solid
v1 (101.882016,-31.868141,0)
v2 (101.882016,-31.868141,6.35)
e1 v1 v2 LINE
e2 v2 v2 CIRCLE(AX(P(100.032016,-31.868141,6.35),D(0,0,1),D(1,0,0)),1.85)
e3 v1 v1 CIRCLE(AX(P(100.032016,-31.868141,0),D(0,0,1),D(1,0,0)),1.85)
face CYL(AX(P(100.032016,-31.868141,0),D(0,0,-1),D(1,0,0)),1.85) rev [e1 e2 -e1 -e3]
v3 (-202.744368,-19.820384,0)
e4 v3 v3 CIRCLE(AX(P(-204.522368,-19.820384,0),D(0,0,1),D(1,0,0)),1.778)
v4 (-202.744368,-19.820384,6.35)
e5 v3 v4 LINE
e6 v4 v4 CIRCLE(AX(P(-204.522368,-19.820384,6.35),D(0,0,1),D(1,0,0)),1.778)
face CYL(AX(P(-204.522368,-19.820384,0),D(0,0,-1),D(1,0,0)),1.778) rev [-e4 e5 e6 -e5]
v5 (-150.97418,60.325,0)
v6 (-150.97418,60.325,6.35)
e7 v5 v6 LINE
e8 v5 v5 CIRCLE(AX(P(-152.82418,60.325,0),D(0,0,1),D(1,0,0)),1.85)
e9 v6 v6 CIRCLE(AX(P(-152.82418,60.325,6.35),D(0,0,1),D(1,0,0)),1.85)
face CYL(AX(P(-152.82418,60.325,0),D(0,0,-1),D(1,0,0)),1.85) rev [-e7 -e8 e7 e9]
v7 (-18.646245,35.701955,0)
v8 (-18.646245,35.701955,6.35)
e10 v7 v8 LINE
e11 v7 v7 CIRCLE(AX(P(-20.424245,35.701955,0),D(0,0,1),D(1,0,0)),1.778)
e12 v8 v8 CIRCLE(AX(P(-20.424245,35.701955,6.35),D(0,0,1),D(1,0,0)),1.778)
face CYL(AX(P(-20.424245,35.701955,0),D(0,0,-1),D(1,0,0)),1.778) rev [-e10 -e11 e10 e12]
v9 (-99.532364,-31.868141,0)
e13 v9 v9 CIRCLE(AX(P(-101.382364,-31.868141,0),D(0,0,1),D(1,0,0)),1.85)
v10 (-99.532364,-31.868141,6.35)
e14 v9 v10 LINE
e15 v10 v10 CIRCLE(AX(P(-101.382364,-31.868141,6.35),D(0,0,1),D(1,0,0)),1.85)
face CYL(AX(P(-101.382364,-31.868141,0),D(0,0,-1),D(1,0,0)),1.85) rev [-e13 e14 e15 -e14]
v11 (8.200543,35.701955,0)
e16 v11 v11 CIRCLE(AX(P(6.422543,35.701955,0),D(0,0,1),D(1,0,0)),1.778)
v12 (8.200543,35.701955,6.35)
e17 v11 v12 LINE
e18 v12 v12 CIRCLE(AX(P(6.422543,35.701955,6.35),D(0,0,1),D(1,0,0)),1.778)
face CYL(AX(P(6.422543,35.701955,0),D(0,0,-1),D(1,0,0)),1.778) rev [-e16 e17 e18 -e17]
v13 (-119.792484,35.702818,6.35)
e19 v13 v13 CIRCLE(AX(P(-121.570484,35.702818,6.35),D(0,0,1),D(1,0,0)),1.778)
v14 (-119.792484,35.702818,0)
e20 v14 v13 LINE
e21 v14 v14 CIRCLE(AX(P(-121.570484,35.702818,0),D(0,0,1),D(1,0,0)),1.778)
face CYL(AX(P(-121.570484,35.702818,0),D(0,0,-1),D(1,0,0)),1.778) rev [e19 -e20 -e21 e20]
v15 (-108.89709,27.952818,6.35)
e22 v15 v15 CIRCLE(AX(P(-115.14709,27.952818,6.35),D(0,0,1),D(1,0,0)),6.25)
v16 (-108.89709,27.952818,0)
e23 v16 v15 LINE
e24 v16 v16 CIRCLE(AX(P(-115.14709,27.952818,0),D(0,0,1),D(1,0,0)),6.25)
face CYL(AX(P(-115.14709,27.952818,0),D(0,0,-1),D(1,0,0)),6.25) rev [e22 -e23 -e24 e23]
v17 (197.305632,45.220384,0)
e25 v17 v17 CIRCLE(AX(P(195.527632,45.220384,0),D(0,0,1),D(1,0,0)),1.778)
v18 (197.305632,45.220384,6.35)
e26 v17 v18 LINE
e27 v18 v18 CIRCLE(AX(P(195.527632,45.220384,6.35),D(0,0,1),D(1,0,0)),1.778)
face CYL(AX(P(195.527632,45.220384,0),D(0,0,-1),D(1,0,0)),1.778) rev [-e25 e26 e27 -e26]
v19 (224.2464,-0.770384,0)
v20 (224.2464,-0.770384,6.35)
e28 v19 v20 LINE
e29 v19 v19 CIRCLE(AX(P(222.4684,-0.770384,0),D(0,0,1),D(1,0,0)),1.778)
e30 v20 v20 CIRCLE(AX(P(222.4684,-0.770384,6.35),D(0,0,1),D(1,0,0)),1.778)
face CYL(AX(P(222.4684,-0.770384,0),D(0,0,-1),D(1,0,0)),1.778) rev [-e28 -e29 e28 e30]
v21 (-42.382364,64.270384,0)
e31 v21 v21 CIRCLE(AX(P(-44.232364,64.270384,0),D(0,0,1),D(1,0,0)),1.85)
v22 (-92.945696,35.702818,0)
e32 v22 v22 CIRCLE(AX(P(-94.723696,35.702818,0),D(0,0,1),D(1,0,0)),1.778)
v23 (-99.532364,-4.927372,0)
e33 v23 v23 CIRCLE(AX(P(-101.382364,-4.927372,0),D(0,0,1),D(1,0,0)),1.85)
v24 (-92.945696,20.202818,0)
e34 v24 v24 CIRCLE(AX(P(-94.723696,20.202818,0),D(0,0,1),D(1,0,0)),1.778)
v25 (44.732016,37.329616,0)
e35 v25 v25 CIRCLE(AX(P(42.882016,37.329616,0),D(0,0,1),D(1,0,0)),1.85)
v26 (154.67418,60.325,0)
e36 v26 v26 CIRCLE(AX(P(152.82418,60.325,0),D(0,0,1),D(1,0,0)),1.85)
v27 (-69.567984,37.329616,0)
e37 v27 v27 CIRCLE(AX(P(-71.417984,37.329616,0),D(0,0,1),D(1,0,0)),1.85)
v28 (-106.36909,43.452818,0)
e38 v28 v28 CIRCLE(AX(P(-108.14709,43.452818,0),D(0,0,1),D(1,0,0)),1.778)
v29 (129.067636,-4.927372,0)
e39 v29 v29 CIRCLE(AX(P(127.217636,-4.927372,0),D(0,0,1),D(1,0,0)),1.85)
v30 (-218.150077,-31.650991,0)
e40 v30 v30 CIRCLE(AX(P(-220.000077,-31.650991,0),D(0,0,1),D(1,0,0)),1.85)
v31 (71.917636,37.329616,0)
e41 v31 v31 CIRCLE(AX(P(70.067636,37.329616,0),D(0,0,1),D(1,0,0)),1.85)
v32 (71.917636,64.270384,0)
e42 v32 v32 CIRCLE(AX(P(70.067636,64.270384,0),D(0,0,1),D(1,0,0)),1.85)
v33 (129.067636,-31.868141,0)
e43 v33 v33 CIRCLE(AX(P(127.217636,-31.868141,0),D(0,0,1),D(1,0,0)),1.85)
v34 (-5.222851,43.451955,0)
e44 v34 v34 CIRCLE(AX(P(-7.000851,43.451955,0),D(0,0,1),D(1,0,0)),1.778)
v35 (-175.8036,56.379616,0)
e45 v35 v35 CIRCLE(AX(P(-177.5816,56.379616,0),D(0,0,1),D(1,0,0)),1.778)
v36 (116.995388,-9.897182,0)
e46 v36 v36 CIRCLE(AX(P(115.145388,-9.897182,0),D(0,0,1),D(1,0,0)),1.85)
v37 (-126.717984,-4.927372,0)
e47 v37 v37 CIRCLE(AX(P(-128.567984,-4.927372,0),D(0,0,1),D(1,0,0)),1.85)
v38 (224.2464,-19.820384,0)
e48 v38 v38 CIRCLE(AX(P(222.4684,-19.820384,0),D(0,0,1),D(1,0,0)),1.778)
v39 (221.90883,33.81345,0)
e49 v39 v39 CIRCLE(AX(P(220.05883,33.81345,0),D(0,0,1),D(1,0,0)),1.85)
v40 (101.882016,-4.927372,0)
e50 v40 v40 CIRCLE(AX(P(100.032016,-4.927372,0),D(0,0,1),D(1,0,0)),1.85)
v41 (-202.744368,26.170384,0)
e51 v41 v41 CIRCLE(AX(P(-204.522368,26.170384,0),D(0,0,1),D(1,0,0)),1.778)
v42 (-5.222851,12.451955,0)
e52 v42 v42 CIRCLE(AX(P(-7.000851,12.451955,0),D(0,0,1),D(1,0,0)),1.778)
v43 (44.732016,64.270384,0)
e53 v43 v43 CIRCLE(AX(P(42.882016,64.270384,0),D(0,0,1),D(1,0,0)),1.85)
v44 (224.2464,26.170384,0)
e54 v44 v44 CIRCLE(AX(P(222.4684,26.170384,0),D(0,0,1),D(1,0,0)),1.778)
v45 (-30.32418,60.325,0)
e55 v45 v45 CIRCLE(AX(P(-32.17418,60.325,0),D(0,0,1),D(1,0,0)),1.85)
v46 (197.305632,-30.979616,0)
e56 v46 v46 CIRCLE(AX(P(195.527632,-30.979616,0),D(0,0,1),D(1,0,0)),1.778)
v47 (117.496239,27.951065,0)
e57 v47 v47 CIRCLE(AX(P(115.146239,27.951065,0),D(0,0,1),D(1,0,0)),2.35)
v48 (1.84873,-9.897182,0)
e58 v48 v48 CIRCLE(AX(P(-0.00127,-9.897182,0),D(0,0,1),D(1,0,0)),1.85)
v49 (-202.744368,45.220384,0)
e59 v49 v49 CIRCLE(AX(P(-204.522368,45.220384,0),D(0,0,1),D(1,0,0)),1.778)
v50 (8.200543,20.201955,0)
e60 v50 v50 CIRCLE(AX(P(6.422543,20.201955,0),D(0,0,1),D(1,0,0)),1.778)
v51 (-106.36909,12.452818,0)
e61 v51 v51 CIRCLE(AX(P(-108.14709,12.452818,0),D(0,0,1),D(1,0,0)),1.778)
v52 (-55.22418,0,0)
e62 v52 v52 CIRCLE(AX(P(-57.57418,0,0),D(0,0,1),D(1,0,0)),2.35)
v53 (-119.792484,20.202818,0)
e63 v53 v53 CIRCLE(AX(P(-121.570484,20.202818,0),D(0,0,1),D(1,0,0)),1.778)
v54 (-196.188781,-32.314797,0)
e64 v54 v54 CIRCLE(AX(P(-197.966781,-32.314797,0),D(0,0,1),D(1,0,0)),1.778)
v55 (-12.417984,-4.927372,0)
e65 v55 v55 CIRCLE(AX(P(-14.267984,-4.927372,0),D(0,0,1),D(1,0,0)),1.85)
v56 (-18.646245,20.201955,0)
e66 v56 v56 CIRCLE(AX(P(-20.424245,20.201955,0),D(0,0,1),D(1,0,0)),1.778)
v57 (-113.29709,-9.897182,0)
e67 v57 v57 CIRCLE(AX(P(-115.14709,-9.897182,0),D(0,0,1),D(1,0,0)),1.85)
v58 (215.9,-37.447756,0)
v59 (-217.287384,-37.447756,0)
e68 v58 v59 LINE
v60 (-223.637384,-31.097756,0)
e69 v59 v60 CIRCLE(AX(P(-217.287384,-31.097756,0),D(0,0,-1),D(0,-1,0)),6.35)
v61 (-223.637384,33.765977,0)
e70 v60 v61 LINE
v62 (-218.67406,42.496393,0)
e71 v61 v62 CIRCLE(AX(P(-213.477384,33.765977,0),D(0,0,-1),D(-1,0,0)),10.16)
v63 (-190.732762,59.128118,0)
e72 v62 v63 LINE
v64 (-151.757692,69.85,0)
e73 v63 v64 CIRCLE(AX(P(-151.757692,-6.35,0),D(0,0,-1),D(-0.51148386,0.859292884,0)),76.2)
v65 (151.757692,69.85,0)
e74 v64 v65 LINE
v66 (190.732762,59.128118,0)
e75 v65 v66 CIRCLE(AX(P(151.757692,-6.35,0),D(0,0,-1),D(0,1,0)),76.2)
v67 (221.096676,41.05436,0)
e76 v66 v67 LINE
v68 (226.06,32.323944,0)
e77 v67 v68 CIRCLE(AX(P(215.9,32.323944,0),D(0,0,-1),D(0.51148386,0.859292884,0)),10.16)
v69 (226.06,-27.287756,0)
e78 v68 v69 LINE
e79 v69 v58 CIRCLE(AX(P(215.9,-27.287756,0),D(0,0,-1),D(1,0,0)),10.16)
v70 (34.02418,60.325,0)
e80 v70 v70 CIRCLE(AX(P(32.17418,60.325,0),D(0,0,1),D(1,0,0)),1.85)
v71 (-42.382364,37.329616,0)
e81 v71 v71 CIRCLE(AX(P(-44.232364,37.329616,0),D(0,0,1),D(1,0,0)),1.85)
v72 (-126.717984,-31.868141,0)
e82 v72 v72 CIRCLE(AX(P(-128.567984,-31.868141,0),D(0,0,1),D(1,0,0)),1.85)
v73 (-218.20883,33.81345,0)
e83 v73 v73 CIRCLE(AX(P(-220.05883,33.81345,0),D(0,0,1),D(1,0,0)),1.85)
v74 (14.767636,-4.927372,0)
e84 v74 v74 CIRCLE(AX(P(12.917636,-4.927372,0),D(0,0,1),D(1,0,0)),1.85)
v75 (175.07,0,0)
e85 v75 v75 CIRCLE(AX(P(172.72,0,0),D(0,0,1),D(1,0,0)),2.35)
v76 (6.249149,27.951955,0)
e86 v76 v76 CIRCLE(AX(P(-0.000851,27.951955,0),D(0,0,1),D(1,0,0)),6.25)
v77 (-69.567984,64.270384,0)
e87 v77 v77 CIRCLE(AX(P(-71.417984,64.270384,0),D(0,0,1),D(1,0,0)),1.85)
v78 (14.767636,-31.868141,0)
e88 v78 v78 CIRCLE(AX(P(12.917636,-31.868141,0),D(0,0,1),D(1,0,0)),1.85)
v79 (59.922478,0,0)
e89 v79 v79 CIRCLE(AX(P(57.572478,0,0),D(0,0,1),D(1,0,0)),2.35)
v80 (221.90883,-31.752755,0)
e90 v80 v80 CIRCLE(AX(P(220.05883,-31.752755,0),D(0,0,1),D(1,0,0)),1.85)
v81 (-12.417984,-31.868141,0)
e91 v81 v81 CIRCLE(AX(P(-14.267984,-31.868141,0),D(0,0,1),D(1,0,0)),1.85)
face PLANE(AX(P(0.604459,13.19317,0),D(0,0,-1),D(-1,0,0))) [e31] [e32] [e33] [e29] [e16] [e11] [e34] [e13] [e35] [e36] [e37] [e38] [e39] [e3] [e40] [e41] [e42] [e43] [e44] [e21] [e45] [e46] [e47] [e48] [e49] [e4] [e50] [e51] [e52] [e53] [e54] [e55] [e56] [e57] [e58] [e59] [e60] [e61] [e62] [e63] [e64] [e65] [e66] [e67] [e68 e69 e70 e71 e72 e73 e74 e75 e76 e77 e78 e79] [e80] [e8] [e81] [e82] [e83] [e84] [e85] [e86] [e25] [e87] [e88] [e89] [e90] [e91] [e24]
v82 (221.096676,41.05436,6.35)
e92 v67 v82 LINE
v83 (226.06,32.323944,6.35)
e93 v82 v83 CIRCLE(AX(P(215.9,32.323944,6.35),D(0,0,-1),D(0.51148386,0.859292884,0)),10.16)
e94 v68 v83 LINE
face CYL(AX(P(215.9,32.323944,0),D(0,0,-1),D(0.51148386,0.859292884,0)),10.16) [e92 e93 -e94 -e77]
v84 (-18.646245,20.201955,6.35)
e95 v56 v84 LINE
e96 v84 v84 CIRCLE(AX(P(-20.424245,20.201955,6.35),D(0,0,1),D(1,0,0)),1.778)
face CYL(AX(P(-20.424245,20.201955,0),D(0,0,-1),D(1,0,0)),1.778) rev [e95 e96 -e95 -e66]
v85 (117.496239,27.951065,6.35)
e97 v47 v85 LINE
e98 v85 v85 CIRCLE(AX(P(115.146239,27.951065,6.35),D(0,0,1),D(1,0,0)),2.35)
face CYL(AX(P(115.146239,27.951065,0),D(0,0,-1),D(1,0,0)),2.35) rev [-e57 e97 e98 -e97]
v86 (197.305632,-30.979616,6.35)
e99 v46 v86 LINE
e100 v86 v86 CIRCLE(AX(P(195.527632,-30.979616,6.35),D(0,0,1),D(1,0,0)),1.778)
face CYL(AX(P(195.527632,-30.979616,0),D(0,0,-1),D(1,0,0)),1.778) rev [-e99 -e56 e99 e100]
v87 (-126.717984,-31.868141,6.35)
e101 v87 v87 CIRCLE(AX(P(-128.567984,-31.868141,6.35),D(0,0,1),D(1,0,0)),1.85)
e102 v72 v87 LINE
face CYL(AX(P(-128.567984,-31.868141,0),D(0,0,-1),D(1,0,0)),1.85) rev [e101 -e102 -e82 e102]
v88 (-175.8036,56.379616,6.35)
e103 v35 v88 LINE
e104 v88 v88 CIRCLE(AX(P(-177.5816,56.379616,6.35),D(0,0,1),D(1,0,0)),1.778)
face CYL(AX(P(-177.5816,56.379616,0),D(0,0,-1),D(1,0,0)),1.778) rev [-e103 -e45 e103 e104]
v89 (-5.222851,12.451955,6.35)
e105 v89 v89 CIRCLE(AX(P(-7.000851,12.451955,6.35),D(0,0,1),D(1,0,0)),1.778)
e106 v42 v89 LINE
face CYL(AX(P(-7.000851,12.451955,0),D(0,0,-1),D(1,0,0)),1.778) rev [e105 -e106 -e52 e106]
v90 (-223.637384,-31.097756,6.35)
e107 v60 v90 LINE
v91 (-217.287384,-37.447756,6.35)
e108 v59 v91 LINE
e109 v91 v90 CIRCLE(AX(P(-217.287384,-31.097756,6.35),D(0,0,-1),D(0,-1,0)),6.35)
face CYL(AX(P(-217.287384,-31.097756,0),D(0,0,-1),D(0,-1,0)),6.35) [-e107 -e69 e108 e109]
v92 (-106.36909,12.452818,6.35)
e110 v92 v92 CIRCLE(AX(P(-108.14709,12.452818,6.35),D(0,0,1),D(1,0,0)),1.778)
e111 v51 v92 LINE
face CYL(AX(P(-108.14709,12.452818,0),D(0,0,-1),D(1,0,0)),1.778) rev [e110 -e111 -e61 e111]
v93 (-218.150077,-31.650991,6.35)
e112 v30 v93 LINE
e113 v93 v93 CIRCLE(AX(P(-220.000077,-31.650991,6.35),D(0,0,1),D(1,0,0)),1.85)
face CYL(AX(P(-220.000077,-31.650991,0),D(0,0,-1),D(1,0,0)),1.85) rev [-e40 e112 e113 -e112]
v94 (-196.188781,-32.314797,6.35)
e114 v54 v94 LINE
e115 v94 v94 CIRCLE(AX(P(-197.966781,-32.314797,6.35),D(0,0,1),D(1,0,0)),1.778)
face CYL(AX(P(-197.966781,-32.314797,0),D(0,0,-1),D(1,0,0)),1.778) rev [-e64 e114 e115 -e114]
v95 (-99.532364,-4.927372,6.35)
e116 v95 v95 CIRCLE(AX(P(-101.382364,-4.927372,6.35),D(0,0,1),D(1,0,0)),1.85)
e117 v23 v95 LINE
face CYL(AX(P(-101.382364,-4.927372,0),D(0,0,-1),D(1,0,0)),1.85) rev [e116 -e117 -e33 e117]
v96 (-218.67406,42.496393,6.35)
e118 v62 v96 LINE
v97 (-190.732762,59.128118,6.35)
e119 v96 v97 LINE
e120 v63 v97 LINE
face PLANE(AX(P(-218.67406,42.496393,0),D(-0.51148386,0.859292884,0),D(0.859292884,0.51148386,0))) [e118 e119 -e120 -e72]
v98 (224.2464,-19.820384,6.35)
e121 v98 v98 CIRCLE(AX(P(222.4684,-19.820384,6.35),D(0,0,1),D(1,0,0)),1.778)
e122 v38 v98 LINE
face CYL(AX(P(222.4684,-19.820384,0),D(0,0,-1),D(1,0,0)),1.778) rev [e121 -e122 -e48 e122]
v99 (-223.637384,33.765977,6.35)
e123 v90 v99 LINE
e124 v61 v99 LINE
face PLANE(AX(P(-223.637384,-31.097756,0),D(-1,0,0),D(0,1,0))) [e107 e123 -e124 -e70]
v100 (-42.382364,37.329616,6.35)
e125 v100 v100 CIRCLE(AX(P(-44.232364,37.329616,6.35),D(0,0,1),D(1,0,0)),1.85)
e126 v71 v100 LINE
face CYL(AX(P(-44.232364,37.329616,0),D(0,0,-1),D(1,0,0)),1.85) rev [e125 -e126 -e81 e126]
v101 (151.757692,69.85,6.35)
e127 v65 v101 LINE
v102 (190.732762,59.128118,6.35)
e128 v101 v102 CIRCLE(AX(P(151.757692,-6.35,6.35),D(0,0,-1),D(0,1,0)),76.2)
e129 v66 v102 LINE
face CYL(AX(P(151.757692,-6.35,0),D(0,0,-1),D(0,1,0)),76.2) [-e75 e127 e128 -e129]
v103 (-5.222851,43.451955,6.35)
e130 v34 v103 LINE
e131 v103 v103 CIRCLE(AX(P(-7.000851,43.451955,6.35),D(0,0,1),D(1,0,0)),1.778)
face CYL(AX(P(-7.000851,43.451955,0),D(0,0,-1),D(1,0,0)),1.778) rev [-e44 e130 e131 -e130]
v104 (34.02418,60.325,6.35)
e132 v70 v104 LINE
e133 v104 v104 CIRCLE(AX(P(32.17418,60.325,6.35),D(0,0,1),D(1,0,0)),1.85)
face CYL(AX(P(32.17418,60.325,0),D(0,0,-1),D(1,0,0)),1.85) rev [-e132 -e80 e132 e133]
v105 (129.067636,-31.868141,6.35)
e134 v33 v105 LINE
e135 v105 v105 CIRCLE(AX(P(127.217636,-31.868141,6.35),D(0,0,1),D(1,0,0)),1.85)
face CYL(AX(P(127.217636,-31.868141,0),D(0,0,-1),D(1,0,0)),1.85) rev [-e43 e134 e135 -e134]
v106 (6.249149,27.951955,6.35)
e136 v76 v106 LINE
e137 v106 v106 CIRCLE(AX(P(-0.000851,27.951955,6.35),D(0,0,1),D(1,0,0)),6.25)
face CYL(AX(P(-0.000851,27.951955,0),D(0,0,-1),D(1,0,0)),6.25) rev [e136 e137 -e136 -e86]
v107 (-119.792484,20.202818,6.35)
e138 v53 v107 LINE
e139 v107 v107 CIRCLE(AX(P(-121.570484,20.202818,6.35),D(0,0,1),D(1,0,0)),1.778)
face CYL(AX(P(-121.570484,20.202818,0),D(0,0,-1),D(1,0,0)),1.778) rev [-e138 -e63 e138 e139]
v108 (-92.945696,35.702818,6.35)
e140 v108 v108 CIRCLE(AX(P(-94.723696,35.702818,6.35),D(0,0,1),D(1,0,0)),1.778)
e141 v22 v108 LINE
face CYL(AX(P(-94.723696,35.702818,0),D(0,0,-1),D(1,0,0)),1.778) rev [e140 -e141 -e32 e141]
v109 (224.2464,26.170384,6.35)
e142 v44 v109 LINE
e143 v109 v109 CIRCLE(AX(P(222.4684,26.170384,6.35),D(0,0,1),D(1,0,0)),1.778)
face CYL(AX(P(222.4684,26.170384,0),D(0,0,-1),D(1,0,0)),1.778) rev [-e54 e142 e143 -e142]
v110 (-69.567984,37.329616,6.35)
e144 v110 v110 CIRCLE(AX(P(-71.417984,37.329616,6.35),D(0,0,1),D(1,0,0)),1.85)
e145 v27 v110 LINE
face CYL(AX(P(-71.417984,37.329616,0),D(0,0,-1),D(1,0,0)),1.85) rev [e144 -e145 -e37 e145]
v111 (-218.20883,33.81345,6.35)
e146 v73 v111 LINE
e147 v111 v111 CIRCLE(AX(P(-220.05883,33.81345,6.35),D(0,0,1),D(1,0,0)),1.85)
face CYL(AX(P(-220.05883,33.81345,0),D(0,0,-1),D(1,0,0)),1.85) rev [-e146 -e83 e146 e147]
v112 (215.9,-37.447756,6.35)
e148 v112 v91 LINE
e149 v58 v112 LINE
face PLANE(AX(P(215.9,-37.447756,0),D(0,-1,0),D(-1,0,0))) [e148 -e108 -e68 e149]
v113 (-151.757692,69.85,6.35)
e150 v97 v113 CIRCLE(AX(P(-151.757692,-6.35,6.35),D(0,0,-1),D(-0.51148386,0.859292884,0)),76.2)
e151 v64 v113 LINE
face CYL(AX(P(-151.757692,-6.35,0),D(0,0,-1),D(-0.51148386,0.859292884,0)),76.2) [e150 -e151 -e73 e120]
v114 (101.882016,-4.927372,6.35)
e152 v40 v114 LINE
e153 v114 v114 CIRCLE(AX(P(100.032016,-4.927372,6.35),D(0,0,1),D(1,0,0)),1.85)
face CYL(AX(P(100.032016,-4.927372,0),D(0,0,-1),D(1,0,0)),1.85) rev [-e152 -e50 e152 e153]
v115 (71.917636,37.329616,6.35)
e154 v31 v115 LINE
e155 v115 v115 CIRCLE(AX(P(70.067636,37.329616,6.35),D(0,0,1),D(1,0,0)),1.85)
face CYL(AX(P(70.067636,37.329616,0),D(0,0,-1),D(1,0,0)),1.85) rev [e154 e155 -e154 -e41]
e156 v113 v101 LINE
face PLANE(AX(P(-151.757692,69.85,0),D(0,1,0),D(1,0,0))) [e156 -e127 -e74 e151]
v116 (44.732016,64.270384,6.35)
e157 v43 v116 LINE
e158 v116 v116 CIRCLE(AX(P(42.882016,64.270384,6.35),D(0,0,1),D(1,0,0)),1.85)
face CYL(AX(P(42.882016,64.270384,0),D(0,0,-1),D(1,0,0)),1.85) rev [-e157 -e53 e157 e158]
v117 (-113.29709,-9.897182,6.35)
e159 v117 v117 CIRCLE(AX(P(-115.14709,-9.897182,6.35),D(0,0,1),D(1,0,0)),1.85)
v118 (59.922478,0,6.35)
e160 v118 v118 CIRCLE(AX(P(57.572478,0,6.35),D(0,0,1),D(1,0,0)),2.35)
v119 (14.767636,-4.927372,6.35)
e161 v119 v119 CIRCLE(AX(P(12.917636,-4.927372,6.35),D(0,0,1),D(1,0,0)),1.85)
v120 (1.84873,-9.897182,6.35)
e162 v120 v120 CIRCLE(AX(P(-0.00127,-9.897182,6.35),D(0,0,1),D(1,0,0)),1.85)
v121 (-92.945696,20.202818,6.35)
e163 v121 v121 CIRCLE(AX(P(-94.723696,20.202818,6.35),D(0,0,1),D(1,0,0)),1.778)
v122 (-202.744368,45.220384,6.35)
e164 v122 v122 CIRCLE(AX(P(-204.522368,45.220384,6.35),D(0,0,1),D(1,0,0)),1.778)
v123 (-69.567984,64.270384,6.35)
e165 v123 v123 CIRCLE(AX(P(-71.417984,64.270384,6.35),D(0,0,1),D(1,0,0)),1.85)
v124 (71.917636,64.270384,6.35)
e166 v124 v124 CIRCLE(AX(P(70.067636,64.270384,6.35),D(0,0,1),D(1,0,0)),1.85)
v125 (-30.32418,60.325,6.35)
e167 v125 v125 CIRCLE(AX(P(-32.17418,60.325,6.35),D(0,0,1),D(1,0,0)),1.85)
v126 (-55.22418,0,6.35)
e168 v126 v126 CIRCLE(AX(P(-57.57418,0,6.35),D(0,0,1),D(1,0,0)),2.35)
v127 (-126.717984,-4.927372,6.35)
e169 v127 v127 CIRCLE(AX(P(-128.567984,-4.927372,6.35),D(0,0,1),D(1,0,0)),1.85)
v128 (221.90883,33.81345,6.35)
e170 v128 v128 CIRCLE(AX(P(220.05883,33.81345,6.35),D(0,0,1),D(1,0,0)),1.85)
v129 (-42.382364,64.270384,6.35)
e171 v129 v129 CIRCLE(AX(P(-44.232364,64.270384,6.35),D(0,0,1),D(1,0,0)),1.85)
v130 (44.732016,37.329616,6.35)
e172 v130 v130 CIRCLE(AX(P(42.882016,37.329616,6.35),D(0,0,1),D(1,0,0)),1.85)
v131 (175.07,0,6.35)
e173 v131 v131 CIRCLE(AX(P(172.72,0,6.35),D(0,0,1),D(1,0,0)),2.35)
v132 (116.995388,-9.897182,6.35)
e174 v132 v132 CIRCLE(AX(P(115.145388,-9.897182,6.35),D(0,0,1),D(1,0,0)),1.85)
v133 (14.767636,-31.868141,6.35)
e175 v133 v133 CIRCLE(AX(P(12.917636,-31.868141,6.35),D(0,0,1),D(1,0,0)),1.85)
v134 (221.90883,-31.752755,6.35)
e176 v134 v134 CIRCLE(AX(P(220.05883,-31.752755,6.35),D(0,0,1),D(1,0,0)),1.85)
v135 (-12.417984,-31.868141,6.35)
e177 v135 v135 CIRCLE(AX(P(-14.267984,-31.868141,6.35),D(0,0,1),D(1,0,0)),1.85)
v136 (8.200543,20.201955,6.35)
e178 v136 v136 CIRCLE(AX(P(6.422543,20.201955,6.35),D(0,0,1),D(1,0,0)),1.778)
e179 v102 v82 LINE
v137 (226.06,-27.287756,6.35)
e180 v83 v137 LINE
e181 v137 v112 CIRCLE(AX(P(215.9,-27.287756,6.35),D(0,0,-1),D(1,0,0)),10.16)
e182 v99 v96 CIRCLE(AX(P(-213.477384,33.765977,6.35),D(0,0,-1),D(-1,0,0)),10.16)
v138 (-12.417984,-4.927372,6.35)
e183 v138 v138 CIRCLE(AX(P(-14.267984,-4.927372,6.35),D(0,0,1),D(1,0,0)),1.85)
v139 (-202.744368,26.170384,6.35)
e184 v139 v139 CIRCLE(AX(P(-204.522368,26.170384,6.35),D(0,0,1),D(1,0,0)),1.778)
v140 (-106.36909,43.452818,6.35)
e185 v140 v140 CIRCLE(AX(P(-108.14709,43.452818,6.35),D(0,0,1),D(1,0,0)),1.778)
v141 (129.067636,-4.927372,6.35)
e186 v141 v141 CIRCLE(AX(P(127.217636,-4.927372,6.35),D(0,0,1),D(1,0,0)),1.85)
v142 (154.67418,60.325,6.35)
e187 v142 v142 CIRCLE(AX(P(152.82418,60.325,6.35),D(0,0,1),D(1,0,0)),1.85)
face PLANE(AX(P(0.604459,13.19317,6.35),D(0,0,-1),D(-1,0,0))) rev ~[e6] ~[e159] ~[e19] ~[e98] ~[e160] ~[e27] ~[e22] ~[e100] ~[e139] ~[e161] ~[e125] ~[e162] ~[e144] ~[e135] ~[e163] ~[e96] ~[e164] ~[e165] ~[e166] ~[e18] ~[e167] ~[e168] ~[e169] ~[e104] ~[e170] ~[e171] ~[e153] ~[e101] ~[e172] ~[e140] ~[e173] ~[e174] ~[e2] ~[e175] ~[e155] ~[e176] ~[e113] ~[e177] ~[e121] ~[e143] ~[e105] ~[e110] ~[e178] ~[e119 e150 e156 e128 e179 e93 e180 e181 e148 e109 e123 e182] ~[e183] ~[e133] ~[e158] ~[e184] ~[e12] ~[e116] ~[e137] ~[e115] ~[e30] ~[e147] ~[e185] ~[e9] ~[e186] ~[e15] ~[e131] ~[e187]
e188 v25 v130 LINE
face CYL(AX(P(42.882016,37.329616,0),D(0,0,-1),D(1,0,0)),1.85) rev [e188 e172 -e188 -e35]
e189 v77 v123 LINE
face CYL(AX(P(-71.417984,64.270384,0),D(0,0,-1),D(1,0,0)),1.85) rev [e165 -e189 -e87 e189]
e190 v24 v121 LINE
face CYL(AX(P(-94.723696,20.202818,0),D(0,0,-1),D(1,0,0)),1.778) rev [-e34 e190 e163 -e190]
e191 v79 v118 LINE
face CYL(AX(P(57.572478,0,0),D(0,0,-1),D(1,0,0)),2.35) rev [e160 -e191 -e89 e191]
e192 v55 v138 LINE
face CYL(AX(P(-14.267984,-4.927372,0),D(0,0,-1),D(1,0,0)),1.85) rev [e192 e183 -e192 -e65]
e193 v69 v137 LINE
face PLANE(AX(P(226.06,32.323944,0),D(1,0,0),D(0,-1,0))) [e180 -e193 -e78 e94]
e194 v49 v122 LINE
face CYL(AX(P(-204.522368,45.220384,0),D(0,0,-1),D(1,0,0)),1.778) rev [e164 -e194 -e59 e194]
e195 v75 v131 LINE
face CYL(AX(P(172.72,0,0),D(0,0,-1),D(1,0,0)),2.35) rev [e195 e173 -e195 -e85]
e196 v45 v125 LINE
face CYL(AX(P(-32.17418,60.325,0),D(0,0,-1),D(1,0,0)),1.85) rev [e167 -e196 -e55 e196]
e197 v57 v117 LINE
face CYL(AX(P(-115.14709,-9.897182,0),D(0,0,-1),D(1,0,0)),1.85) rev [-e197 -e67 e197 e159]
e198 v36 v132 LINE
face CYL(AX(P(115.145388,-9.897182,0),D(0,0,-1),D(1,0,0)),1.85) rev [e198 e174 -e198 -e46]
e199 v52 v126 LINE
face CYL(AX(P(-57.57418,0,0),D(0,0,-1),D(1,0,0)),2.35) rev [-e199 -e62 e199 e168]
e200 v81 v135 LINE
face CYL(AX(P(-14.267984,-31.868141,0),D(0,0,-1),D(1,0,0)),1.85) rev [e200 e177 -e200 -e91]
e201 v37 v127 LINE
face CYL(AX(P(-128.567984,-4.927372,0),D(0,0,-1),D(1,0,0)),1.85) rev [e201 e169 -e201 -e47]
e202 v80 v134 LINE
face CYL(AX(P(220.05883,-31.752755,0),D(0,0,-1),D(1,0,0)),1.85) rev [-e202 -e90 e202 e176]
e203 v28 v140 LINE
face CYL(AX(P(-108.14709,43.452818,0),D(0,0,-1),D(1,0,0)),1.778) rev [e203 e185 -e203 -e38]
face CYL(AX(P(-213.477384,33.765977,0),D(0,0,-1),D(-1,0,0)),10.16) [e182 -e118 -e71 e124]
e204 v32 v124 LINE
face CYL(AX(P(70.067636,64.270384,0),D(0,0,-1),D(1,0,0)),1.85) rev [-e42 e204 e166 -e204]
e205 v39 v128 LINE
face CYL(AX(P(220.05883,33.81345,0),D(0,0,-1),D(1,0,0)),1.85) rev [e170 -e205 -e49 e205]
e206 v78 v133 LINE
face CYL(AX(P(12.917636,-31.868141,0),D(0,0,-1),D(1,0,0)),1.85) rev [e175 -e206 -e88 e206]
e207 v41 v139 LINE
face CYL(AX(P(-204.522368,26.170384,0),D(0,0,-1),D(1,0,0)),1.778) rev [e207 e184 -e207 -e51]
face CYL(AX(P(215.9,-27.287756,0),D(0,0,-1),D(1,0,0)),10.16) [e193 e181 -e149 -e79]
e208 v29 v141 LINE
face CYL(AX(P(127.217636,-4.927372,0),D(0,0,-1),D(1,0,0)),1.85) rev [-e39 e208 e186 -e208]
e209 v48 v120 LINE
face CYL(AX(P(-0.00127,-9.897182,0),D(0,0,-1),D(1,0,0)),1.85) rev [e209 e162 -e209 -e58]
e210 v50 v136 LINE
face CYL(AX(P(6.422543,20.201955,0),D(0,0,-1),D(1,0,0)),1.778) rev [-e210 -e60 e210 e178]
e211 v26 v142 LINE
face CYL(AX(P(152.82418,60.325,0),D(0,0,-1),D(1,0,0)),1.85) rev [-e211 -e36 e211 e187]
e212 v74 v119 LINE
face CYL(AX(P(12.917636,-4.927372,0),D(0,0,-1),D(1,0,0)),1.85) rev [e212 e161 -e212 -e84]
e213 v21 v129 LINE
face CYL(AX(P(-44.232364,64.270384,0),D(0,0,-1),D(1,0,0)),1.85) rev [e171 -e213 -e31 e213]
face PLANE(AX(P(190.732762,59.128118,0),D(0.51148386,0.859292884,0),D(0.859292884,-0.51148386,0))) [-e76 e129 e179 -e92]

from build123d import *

# Parameters (mm, degrees)
SKETCH1_R           = 2.35
SKETCH1_R_2         = 6.25
SKETCH1_R_3         = 2.349999999
SKETCH1_R_4         = 1.778
SKETCH1_R_5         = 1.85000011
SKETCH1_R_6         = 1.85
BOSS_EXTRUDE3_DEPTH = 6.35


with BuildPart() as part:
    # Sketch1 → Boss-Extrude3 (new body)
    with BuildSketch(Plane.XY):
        with BuildLine():
            Line((226.06, 0), (226.06, -27.287756374))
            ThreePointArc((226.06, -27.287756374), (223.084204897, -34.471961271), (215.9, -37.447756374))
            Line((215.9, -37.447756374), (-215.9, -37.447756374))
            Line((-215.9, -37.447756374), (-217.287383527, -37.447756374))
            ThreePointArc((-217.287383527, -37.447756374), (-221.777511587, -35.587884434), (-223.637383527, -31.097756374))
            Line((-223.637383527, -31.097756374), (-223.637383527, 33.765977424))
            ThreePointArc((-223.637383527, 33.765977424), (-222.309818874, 38.787300541), (-218.674059542, 42.49639313))
            Line((-218.674059542, 42.49639313), (-190.732762109, 59.128117792))
            ThreePointArc((-190.732762109, 59.128117792), (-171.969166759, 67.120649159), (-151.757691995, 69.85))
            Line((-151.757691995, 69.85), (151.757691995, 69.85))
            ThreePointArc((151.757691995, 69.85), (171.969166759, 67.120649159), (190.732762109, 59.128117792))
            Line((190.732762109, 59.128117792), (221.096676015, 41.054359515))
            ThreePointArc((221.096676015, 41.054359515), (224.732435347, 37.345266926), (226.06, 32.323943809))
            Line((226.06, 32.323943809), (226.06, 0))
        make_face()
        with Locations((-57.57418, 0)):
            Circle(SKETCH1_R, mode=Mode.SUBTRACT)
        with Locations((57.5724782, 0)):
            Circle(SKETCH1_R, mode=Mode.SUBTRACT)
        with Locations((172.72, 0)):
            Circle(SKETCH1_R, mode=Mode.SUBTRACT)
        with Locations((-115.14709, 27.952818)):
            Circle(SKETCH1_R_2, mode=Mode.SUBTRACT)
        with Locations((-0.0008509, 27.951954786)):
            Circle(SKETCH1_R_2, mode=Mode.SUBTRACT)
        with Locations((115.1462391, 27.951065379)):
            Circle(SKETCH1_R_3, mode=Mode.SUBTRACT)
        with Locations((-108.14709, 43.452818)):
            Circle(SKETCH1_R_4, mode=Mode.SUBTRACT)
        with Locations((-94.723696241, 35.702818)):
            Circle(SKETCH1_R_4, mode=Mode.SUBTRACT)
        with Locations((-94.723696241, 20.202818)):
            Circle(SKETCH1_R_4, mode=Mode.SUBTRACT)
        with Locations((-108.14709, 12.452818)):
            Circle(SKETCH1_R_4, mode=Mode.SUBTRACT)
        with Locations((-121.570483759, 20.202818)):
            Circle(SKETCH1_R_4, mode=Mode.SUBTRACT)
        with Locations((-121.570483759, 35.702818)):
            Circle(SKETCH1_R_4, mode=Mode.SUBTRACT)
        with Locations((-7.0008509, 43.451954786)):
            Circle(SKETCH1_R_4, mode=Mode.SUBTRACT)
        with Locations((6.422542859, 35.701954786)):
            Circle(SKETCH1_R_4, mode=Mode.SUBTRACT)
        with Locations((6.422542859, 20.201954786)):
            Circle(SKETCH1_R_4, mode=Mode.SUBTRACT)
        with Locations((-7.0008509, 12.451954786)):
            Circle(SKETCH1_R_4, mode=Mode.SUBTRACT)
        with Locations((-20.424244659, 20.201954786)):
            Circle(SKETCH1_R_4, mode=Mode.SUBTRACT)
        with Locations((-20.424244659, 35.701954786)):
            Circle(SKETCH1_R_4, mode=Mode.SUBTRACT)
        with Locations((-71.417984205, 64.270384182)):
            Circle(SKETCH1_R_5, mode=Mode.SUBTRACT)
        with Locations((-32.17418, 60.325)):
            Circle(SKETCH1_R_6, mode=Mode.SUBTRACT)
        with Locations((-152.82418, 60.325)):
            Circle(SKETCH1_R_6, mode=Mode.SUBTRACT)
        with Locations((152.82418, 60.325)):
            Circle(SKETCH1_R_6, mode=Mode.SUBTRACT)
        with Locations((32.17418, 60.325)):
            Circle(SKETCH1_R_6, mode=Mode.SUBTRACT)
        with Locations((-44.232364205, 64.270384182)):
            Circle(SKETCH1_R_5, mode=Mode.SUBTRACT)
        with Locations((115.1453882, -9.897181959)):
            Circle(SKETCH1_R_6, mode=Mode.SUBTRACT)
        with Locations((-115.14709, -9.897181959)):
            Circle(SKETCH1_R_6, mode=Mode.SUBTRACT)
        with Locations((-0.00127, -9.897181959)):
            Circle(SKETCH1_R_6, mode=Mode.SUBTRACT)
        with Locations((220.058830169, 33.81345012)):
            Circle(SKETCH1_R_6, mode=Mode.SUBTRACT)
        with Locations((-220.058830169, 33.81345012)):
            Circle(SKETCH1_R_6, mode=Mode.SUBTRACT)
        with Locations((220.058830169, -31.752755237)):
            Circle(SKETCH1_R_5, mode=Mode.SUBTRACT)
        with Locations((-220.000076831, -31.65099147)):
            Circle(SKETCH1_R_5, mode=Mode.SUBTRACT)
        with Locations((-71.417984205, 37.329615818)):
            Circle(SKETCH1_R_5, mode=Mode.SUBTRACT)
        with Locations((-44.232364205, 37.329615818)):
            Circle(SKETCH1_R_5, mode=Mode.SUBTRACT)
        with Locations((42.882015795, 64.270384182)):
            Circle(SKETCH1_R_5, mode=Mode.SUBTRACT)
        with Locations((70.067635795, 64.270384182)):
            Circle(SKETCH1_R_5, mode=Mode.SUBTRACT)
        with Locations((42.882015795, 37.329615818)):
            Circle(SKETCH1_R_5, mode=Mode.SUBTRACT)
        with Locations((70.067635795, 37.329615818)):
            Circle(SKETCH1_R_5, mode=Mode.SUBTRACT)
        with Locations((-128.567984205, -4.927372192)):
            Circle(SKETCH1_R_5, mode=Mode.SUBTRACT)
        with Locations((-101.382364205, -4.927372192)):
            Circle(SKETCH1_R_5, mode=Mode.SUBTRACT)
        with Locations((-101.382364205, -31.868140555)):
            Circle(SKETCH1_R_5, mode=Mode.SUBTRACT)
        with Locations((-128.567984205, -31.868140555)):
            Circle(SKETCH1_R_5, mode=Mode.SUBTRACT)
        with Locations((-14.267984205, -4.927372192)):
            Circle(SKETCH1_R_5, mode=Mode.SUBTRACT)
        with Locations((12.917635795, -4.927372192)):
            Circle(SKETCH1_R_5, mode=Mode.SUBTRACT)
        with Locations((12.917635795, -31.868140555)):
            Circle(SKETCH1_R_5, mode=Mode.SUBTRACT)
        with Locations((-14.267984205, -31.868140555)):
            Circle(SKETCH1_R_5, mode=Mode.SUBTRACT)
        with Locations((100.032015795, -4.927372192)):
            Circle(SKETCH1_R_5, mode=Mode.SUBTRACT)
        with Locations((127.217635795, -4.927372192)):
            Circle(SKETCH1_R_5, mode=Mode.SUBTRACT)
        with Locations((127.217635795, -31.868140555)):
            Circle(SKETCH1_R_5, mode=Mode.SUBTRACT)
        with Locations((100.032015795, -31.868140555)):
            Circle(SKETCH1_R_5, mode=Mode.SUBTRACT)
        with Locations((195.527631613, 45.220384182)):
            Circle(SKETCH1_R_4, mode=Mode.SUBTRACT)
        with Locations((222.468399976, 26.170384182)):
            Circle(SKETCH1_R_4, mode=Mode.SUBTRACT)
        with Locations((222.468399976, -19.820384182)):
            Circle(SKETCH1_R_4, mode=Mode.SUBTRACT)
        with Locations((195.527631613, -30.979615818)):
            Circle(SKETCH1_R_4, mode=Mode.SUBTRACT)
        with Locations((222.468399976, -0.770384182)):
            Circle(SKETCH1_R_4, mode=Mode.SUBTRACT)
        with Locations((-177.581600024, 56.379615818)):
            Circle(SKETCH1_R_4, mode=Mode.SUBTRACT)
        with Locations((-204.522368387, 45.220384182)):
            Circle(SKETCH1_R_4, mode=Mode.SUBTRACT)
        with Locations((-197.966781419, -32.314797213)):
            Circle(SKETCH1_R_4, mode=Mode.SUBTRACT)
        with Locations((-204.522368387, -19.820384182)):
            Circle(SKETCH1_R_4, mode=Mode.SUBTRACT)
        with Locations((-204.522368387, 26.170384182)):
            Circle(SKETCH1_R_4, mode=Mode.SUBTRACT)
    extrude(amount=BOSS_EXTRUDE3_DEPTH)


solid = part.part
